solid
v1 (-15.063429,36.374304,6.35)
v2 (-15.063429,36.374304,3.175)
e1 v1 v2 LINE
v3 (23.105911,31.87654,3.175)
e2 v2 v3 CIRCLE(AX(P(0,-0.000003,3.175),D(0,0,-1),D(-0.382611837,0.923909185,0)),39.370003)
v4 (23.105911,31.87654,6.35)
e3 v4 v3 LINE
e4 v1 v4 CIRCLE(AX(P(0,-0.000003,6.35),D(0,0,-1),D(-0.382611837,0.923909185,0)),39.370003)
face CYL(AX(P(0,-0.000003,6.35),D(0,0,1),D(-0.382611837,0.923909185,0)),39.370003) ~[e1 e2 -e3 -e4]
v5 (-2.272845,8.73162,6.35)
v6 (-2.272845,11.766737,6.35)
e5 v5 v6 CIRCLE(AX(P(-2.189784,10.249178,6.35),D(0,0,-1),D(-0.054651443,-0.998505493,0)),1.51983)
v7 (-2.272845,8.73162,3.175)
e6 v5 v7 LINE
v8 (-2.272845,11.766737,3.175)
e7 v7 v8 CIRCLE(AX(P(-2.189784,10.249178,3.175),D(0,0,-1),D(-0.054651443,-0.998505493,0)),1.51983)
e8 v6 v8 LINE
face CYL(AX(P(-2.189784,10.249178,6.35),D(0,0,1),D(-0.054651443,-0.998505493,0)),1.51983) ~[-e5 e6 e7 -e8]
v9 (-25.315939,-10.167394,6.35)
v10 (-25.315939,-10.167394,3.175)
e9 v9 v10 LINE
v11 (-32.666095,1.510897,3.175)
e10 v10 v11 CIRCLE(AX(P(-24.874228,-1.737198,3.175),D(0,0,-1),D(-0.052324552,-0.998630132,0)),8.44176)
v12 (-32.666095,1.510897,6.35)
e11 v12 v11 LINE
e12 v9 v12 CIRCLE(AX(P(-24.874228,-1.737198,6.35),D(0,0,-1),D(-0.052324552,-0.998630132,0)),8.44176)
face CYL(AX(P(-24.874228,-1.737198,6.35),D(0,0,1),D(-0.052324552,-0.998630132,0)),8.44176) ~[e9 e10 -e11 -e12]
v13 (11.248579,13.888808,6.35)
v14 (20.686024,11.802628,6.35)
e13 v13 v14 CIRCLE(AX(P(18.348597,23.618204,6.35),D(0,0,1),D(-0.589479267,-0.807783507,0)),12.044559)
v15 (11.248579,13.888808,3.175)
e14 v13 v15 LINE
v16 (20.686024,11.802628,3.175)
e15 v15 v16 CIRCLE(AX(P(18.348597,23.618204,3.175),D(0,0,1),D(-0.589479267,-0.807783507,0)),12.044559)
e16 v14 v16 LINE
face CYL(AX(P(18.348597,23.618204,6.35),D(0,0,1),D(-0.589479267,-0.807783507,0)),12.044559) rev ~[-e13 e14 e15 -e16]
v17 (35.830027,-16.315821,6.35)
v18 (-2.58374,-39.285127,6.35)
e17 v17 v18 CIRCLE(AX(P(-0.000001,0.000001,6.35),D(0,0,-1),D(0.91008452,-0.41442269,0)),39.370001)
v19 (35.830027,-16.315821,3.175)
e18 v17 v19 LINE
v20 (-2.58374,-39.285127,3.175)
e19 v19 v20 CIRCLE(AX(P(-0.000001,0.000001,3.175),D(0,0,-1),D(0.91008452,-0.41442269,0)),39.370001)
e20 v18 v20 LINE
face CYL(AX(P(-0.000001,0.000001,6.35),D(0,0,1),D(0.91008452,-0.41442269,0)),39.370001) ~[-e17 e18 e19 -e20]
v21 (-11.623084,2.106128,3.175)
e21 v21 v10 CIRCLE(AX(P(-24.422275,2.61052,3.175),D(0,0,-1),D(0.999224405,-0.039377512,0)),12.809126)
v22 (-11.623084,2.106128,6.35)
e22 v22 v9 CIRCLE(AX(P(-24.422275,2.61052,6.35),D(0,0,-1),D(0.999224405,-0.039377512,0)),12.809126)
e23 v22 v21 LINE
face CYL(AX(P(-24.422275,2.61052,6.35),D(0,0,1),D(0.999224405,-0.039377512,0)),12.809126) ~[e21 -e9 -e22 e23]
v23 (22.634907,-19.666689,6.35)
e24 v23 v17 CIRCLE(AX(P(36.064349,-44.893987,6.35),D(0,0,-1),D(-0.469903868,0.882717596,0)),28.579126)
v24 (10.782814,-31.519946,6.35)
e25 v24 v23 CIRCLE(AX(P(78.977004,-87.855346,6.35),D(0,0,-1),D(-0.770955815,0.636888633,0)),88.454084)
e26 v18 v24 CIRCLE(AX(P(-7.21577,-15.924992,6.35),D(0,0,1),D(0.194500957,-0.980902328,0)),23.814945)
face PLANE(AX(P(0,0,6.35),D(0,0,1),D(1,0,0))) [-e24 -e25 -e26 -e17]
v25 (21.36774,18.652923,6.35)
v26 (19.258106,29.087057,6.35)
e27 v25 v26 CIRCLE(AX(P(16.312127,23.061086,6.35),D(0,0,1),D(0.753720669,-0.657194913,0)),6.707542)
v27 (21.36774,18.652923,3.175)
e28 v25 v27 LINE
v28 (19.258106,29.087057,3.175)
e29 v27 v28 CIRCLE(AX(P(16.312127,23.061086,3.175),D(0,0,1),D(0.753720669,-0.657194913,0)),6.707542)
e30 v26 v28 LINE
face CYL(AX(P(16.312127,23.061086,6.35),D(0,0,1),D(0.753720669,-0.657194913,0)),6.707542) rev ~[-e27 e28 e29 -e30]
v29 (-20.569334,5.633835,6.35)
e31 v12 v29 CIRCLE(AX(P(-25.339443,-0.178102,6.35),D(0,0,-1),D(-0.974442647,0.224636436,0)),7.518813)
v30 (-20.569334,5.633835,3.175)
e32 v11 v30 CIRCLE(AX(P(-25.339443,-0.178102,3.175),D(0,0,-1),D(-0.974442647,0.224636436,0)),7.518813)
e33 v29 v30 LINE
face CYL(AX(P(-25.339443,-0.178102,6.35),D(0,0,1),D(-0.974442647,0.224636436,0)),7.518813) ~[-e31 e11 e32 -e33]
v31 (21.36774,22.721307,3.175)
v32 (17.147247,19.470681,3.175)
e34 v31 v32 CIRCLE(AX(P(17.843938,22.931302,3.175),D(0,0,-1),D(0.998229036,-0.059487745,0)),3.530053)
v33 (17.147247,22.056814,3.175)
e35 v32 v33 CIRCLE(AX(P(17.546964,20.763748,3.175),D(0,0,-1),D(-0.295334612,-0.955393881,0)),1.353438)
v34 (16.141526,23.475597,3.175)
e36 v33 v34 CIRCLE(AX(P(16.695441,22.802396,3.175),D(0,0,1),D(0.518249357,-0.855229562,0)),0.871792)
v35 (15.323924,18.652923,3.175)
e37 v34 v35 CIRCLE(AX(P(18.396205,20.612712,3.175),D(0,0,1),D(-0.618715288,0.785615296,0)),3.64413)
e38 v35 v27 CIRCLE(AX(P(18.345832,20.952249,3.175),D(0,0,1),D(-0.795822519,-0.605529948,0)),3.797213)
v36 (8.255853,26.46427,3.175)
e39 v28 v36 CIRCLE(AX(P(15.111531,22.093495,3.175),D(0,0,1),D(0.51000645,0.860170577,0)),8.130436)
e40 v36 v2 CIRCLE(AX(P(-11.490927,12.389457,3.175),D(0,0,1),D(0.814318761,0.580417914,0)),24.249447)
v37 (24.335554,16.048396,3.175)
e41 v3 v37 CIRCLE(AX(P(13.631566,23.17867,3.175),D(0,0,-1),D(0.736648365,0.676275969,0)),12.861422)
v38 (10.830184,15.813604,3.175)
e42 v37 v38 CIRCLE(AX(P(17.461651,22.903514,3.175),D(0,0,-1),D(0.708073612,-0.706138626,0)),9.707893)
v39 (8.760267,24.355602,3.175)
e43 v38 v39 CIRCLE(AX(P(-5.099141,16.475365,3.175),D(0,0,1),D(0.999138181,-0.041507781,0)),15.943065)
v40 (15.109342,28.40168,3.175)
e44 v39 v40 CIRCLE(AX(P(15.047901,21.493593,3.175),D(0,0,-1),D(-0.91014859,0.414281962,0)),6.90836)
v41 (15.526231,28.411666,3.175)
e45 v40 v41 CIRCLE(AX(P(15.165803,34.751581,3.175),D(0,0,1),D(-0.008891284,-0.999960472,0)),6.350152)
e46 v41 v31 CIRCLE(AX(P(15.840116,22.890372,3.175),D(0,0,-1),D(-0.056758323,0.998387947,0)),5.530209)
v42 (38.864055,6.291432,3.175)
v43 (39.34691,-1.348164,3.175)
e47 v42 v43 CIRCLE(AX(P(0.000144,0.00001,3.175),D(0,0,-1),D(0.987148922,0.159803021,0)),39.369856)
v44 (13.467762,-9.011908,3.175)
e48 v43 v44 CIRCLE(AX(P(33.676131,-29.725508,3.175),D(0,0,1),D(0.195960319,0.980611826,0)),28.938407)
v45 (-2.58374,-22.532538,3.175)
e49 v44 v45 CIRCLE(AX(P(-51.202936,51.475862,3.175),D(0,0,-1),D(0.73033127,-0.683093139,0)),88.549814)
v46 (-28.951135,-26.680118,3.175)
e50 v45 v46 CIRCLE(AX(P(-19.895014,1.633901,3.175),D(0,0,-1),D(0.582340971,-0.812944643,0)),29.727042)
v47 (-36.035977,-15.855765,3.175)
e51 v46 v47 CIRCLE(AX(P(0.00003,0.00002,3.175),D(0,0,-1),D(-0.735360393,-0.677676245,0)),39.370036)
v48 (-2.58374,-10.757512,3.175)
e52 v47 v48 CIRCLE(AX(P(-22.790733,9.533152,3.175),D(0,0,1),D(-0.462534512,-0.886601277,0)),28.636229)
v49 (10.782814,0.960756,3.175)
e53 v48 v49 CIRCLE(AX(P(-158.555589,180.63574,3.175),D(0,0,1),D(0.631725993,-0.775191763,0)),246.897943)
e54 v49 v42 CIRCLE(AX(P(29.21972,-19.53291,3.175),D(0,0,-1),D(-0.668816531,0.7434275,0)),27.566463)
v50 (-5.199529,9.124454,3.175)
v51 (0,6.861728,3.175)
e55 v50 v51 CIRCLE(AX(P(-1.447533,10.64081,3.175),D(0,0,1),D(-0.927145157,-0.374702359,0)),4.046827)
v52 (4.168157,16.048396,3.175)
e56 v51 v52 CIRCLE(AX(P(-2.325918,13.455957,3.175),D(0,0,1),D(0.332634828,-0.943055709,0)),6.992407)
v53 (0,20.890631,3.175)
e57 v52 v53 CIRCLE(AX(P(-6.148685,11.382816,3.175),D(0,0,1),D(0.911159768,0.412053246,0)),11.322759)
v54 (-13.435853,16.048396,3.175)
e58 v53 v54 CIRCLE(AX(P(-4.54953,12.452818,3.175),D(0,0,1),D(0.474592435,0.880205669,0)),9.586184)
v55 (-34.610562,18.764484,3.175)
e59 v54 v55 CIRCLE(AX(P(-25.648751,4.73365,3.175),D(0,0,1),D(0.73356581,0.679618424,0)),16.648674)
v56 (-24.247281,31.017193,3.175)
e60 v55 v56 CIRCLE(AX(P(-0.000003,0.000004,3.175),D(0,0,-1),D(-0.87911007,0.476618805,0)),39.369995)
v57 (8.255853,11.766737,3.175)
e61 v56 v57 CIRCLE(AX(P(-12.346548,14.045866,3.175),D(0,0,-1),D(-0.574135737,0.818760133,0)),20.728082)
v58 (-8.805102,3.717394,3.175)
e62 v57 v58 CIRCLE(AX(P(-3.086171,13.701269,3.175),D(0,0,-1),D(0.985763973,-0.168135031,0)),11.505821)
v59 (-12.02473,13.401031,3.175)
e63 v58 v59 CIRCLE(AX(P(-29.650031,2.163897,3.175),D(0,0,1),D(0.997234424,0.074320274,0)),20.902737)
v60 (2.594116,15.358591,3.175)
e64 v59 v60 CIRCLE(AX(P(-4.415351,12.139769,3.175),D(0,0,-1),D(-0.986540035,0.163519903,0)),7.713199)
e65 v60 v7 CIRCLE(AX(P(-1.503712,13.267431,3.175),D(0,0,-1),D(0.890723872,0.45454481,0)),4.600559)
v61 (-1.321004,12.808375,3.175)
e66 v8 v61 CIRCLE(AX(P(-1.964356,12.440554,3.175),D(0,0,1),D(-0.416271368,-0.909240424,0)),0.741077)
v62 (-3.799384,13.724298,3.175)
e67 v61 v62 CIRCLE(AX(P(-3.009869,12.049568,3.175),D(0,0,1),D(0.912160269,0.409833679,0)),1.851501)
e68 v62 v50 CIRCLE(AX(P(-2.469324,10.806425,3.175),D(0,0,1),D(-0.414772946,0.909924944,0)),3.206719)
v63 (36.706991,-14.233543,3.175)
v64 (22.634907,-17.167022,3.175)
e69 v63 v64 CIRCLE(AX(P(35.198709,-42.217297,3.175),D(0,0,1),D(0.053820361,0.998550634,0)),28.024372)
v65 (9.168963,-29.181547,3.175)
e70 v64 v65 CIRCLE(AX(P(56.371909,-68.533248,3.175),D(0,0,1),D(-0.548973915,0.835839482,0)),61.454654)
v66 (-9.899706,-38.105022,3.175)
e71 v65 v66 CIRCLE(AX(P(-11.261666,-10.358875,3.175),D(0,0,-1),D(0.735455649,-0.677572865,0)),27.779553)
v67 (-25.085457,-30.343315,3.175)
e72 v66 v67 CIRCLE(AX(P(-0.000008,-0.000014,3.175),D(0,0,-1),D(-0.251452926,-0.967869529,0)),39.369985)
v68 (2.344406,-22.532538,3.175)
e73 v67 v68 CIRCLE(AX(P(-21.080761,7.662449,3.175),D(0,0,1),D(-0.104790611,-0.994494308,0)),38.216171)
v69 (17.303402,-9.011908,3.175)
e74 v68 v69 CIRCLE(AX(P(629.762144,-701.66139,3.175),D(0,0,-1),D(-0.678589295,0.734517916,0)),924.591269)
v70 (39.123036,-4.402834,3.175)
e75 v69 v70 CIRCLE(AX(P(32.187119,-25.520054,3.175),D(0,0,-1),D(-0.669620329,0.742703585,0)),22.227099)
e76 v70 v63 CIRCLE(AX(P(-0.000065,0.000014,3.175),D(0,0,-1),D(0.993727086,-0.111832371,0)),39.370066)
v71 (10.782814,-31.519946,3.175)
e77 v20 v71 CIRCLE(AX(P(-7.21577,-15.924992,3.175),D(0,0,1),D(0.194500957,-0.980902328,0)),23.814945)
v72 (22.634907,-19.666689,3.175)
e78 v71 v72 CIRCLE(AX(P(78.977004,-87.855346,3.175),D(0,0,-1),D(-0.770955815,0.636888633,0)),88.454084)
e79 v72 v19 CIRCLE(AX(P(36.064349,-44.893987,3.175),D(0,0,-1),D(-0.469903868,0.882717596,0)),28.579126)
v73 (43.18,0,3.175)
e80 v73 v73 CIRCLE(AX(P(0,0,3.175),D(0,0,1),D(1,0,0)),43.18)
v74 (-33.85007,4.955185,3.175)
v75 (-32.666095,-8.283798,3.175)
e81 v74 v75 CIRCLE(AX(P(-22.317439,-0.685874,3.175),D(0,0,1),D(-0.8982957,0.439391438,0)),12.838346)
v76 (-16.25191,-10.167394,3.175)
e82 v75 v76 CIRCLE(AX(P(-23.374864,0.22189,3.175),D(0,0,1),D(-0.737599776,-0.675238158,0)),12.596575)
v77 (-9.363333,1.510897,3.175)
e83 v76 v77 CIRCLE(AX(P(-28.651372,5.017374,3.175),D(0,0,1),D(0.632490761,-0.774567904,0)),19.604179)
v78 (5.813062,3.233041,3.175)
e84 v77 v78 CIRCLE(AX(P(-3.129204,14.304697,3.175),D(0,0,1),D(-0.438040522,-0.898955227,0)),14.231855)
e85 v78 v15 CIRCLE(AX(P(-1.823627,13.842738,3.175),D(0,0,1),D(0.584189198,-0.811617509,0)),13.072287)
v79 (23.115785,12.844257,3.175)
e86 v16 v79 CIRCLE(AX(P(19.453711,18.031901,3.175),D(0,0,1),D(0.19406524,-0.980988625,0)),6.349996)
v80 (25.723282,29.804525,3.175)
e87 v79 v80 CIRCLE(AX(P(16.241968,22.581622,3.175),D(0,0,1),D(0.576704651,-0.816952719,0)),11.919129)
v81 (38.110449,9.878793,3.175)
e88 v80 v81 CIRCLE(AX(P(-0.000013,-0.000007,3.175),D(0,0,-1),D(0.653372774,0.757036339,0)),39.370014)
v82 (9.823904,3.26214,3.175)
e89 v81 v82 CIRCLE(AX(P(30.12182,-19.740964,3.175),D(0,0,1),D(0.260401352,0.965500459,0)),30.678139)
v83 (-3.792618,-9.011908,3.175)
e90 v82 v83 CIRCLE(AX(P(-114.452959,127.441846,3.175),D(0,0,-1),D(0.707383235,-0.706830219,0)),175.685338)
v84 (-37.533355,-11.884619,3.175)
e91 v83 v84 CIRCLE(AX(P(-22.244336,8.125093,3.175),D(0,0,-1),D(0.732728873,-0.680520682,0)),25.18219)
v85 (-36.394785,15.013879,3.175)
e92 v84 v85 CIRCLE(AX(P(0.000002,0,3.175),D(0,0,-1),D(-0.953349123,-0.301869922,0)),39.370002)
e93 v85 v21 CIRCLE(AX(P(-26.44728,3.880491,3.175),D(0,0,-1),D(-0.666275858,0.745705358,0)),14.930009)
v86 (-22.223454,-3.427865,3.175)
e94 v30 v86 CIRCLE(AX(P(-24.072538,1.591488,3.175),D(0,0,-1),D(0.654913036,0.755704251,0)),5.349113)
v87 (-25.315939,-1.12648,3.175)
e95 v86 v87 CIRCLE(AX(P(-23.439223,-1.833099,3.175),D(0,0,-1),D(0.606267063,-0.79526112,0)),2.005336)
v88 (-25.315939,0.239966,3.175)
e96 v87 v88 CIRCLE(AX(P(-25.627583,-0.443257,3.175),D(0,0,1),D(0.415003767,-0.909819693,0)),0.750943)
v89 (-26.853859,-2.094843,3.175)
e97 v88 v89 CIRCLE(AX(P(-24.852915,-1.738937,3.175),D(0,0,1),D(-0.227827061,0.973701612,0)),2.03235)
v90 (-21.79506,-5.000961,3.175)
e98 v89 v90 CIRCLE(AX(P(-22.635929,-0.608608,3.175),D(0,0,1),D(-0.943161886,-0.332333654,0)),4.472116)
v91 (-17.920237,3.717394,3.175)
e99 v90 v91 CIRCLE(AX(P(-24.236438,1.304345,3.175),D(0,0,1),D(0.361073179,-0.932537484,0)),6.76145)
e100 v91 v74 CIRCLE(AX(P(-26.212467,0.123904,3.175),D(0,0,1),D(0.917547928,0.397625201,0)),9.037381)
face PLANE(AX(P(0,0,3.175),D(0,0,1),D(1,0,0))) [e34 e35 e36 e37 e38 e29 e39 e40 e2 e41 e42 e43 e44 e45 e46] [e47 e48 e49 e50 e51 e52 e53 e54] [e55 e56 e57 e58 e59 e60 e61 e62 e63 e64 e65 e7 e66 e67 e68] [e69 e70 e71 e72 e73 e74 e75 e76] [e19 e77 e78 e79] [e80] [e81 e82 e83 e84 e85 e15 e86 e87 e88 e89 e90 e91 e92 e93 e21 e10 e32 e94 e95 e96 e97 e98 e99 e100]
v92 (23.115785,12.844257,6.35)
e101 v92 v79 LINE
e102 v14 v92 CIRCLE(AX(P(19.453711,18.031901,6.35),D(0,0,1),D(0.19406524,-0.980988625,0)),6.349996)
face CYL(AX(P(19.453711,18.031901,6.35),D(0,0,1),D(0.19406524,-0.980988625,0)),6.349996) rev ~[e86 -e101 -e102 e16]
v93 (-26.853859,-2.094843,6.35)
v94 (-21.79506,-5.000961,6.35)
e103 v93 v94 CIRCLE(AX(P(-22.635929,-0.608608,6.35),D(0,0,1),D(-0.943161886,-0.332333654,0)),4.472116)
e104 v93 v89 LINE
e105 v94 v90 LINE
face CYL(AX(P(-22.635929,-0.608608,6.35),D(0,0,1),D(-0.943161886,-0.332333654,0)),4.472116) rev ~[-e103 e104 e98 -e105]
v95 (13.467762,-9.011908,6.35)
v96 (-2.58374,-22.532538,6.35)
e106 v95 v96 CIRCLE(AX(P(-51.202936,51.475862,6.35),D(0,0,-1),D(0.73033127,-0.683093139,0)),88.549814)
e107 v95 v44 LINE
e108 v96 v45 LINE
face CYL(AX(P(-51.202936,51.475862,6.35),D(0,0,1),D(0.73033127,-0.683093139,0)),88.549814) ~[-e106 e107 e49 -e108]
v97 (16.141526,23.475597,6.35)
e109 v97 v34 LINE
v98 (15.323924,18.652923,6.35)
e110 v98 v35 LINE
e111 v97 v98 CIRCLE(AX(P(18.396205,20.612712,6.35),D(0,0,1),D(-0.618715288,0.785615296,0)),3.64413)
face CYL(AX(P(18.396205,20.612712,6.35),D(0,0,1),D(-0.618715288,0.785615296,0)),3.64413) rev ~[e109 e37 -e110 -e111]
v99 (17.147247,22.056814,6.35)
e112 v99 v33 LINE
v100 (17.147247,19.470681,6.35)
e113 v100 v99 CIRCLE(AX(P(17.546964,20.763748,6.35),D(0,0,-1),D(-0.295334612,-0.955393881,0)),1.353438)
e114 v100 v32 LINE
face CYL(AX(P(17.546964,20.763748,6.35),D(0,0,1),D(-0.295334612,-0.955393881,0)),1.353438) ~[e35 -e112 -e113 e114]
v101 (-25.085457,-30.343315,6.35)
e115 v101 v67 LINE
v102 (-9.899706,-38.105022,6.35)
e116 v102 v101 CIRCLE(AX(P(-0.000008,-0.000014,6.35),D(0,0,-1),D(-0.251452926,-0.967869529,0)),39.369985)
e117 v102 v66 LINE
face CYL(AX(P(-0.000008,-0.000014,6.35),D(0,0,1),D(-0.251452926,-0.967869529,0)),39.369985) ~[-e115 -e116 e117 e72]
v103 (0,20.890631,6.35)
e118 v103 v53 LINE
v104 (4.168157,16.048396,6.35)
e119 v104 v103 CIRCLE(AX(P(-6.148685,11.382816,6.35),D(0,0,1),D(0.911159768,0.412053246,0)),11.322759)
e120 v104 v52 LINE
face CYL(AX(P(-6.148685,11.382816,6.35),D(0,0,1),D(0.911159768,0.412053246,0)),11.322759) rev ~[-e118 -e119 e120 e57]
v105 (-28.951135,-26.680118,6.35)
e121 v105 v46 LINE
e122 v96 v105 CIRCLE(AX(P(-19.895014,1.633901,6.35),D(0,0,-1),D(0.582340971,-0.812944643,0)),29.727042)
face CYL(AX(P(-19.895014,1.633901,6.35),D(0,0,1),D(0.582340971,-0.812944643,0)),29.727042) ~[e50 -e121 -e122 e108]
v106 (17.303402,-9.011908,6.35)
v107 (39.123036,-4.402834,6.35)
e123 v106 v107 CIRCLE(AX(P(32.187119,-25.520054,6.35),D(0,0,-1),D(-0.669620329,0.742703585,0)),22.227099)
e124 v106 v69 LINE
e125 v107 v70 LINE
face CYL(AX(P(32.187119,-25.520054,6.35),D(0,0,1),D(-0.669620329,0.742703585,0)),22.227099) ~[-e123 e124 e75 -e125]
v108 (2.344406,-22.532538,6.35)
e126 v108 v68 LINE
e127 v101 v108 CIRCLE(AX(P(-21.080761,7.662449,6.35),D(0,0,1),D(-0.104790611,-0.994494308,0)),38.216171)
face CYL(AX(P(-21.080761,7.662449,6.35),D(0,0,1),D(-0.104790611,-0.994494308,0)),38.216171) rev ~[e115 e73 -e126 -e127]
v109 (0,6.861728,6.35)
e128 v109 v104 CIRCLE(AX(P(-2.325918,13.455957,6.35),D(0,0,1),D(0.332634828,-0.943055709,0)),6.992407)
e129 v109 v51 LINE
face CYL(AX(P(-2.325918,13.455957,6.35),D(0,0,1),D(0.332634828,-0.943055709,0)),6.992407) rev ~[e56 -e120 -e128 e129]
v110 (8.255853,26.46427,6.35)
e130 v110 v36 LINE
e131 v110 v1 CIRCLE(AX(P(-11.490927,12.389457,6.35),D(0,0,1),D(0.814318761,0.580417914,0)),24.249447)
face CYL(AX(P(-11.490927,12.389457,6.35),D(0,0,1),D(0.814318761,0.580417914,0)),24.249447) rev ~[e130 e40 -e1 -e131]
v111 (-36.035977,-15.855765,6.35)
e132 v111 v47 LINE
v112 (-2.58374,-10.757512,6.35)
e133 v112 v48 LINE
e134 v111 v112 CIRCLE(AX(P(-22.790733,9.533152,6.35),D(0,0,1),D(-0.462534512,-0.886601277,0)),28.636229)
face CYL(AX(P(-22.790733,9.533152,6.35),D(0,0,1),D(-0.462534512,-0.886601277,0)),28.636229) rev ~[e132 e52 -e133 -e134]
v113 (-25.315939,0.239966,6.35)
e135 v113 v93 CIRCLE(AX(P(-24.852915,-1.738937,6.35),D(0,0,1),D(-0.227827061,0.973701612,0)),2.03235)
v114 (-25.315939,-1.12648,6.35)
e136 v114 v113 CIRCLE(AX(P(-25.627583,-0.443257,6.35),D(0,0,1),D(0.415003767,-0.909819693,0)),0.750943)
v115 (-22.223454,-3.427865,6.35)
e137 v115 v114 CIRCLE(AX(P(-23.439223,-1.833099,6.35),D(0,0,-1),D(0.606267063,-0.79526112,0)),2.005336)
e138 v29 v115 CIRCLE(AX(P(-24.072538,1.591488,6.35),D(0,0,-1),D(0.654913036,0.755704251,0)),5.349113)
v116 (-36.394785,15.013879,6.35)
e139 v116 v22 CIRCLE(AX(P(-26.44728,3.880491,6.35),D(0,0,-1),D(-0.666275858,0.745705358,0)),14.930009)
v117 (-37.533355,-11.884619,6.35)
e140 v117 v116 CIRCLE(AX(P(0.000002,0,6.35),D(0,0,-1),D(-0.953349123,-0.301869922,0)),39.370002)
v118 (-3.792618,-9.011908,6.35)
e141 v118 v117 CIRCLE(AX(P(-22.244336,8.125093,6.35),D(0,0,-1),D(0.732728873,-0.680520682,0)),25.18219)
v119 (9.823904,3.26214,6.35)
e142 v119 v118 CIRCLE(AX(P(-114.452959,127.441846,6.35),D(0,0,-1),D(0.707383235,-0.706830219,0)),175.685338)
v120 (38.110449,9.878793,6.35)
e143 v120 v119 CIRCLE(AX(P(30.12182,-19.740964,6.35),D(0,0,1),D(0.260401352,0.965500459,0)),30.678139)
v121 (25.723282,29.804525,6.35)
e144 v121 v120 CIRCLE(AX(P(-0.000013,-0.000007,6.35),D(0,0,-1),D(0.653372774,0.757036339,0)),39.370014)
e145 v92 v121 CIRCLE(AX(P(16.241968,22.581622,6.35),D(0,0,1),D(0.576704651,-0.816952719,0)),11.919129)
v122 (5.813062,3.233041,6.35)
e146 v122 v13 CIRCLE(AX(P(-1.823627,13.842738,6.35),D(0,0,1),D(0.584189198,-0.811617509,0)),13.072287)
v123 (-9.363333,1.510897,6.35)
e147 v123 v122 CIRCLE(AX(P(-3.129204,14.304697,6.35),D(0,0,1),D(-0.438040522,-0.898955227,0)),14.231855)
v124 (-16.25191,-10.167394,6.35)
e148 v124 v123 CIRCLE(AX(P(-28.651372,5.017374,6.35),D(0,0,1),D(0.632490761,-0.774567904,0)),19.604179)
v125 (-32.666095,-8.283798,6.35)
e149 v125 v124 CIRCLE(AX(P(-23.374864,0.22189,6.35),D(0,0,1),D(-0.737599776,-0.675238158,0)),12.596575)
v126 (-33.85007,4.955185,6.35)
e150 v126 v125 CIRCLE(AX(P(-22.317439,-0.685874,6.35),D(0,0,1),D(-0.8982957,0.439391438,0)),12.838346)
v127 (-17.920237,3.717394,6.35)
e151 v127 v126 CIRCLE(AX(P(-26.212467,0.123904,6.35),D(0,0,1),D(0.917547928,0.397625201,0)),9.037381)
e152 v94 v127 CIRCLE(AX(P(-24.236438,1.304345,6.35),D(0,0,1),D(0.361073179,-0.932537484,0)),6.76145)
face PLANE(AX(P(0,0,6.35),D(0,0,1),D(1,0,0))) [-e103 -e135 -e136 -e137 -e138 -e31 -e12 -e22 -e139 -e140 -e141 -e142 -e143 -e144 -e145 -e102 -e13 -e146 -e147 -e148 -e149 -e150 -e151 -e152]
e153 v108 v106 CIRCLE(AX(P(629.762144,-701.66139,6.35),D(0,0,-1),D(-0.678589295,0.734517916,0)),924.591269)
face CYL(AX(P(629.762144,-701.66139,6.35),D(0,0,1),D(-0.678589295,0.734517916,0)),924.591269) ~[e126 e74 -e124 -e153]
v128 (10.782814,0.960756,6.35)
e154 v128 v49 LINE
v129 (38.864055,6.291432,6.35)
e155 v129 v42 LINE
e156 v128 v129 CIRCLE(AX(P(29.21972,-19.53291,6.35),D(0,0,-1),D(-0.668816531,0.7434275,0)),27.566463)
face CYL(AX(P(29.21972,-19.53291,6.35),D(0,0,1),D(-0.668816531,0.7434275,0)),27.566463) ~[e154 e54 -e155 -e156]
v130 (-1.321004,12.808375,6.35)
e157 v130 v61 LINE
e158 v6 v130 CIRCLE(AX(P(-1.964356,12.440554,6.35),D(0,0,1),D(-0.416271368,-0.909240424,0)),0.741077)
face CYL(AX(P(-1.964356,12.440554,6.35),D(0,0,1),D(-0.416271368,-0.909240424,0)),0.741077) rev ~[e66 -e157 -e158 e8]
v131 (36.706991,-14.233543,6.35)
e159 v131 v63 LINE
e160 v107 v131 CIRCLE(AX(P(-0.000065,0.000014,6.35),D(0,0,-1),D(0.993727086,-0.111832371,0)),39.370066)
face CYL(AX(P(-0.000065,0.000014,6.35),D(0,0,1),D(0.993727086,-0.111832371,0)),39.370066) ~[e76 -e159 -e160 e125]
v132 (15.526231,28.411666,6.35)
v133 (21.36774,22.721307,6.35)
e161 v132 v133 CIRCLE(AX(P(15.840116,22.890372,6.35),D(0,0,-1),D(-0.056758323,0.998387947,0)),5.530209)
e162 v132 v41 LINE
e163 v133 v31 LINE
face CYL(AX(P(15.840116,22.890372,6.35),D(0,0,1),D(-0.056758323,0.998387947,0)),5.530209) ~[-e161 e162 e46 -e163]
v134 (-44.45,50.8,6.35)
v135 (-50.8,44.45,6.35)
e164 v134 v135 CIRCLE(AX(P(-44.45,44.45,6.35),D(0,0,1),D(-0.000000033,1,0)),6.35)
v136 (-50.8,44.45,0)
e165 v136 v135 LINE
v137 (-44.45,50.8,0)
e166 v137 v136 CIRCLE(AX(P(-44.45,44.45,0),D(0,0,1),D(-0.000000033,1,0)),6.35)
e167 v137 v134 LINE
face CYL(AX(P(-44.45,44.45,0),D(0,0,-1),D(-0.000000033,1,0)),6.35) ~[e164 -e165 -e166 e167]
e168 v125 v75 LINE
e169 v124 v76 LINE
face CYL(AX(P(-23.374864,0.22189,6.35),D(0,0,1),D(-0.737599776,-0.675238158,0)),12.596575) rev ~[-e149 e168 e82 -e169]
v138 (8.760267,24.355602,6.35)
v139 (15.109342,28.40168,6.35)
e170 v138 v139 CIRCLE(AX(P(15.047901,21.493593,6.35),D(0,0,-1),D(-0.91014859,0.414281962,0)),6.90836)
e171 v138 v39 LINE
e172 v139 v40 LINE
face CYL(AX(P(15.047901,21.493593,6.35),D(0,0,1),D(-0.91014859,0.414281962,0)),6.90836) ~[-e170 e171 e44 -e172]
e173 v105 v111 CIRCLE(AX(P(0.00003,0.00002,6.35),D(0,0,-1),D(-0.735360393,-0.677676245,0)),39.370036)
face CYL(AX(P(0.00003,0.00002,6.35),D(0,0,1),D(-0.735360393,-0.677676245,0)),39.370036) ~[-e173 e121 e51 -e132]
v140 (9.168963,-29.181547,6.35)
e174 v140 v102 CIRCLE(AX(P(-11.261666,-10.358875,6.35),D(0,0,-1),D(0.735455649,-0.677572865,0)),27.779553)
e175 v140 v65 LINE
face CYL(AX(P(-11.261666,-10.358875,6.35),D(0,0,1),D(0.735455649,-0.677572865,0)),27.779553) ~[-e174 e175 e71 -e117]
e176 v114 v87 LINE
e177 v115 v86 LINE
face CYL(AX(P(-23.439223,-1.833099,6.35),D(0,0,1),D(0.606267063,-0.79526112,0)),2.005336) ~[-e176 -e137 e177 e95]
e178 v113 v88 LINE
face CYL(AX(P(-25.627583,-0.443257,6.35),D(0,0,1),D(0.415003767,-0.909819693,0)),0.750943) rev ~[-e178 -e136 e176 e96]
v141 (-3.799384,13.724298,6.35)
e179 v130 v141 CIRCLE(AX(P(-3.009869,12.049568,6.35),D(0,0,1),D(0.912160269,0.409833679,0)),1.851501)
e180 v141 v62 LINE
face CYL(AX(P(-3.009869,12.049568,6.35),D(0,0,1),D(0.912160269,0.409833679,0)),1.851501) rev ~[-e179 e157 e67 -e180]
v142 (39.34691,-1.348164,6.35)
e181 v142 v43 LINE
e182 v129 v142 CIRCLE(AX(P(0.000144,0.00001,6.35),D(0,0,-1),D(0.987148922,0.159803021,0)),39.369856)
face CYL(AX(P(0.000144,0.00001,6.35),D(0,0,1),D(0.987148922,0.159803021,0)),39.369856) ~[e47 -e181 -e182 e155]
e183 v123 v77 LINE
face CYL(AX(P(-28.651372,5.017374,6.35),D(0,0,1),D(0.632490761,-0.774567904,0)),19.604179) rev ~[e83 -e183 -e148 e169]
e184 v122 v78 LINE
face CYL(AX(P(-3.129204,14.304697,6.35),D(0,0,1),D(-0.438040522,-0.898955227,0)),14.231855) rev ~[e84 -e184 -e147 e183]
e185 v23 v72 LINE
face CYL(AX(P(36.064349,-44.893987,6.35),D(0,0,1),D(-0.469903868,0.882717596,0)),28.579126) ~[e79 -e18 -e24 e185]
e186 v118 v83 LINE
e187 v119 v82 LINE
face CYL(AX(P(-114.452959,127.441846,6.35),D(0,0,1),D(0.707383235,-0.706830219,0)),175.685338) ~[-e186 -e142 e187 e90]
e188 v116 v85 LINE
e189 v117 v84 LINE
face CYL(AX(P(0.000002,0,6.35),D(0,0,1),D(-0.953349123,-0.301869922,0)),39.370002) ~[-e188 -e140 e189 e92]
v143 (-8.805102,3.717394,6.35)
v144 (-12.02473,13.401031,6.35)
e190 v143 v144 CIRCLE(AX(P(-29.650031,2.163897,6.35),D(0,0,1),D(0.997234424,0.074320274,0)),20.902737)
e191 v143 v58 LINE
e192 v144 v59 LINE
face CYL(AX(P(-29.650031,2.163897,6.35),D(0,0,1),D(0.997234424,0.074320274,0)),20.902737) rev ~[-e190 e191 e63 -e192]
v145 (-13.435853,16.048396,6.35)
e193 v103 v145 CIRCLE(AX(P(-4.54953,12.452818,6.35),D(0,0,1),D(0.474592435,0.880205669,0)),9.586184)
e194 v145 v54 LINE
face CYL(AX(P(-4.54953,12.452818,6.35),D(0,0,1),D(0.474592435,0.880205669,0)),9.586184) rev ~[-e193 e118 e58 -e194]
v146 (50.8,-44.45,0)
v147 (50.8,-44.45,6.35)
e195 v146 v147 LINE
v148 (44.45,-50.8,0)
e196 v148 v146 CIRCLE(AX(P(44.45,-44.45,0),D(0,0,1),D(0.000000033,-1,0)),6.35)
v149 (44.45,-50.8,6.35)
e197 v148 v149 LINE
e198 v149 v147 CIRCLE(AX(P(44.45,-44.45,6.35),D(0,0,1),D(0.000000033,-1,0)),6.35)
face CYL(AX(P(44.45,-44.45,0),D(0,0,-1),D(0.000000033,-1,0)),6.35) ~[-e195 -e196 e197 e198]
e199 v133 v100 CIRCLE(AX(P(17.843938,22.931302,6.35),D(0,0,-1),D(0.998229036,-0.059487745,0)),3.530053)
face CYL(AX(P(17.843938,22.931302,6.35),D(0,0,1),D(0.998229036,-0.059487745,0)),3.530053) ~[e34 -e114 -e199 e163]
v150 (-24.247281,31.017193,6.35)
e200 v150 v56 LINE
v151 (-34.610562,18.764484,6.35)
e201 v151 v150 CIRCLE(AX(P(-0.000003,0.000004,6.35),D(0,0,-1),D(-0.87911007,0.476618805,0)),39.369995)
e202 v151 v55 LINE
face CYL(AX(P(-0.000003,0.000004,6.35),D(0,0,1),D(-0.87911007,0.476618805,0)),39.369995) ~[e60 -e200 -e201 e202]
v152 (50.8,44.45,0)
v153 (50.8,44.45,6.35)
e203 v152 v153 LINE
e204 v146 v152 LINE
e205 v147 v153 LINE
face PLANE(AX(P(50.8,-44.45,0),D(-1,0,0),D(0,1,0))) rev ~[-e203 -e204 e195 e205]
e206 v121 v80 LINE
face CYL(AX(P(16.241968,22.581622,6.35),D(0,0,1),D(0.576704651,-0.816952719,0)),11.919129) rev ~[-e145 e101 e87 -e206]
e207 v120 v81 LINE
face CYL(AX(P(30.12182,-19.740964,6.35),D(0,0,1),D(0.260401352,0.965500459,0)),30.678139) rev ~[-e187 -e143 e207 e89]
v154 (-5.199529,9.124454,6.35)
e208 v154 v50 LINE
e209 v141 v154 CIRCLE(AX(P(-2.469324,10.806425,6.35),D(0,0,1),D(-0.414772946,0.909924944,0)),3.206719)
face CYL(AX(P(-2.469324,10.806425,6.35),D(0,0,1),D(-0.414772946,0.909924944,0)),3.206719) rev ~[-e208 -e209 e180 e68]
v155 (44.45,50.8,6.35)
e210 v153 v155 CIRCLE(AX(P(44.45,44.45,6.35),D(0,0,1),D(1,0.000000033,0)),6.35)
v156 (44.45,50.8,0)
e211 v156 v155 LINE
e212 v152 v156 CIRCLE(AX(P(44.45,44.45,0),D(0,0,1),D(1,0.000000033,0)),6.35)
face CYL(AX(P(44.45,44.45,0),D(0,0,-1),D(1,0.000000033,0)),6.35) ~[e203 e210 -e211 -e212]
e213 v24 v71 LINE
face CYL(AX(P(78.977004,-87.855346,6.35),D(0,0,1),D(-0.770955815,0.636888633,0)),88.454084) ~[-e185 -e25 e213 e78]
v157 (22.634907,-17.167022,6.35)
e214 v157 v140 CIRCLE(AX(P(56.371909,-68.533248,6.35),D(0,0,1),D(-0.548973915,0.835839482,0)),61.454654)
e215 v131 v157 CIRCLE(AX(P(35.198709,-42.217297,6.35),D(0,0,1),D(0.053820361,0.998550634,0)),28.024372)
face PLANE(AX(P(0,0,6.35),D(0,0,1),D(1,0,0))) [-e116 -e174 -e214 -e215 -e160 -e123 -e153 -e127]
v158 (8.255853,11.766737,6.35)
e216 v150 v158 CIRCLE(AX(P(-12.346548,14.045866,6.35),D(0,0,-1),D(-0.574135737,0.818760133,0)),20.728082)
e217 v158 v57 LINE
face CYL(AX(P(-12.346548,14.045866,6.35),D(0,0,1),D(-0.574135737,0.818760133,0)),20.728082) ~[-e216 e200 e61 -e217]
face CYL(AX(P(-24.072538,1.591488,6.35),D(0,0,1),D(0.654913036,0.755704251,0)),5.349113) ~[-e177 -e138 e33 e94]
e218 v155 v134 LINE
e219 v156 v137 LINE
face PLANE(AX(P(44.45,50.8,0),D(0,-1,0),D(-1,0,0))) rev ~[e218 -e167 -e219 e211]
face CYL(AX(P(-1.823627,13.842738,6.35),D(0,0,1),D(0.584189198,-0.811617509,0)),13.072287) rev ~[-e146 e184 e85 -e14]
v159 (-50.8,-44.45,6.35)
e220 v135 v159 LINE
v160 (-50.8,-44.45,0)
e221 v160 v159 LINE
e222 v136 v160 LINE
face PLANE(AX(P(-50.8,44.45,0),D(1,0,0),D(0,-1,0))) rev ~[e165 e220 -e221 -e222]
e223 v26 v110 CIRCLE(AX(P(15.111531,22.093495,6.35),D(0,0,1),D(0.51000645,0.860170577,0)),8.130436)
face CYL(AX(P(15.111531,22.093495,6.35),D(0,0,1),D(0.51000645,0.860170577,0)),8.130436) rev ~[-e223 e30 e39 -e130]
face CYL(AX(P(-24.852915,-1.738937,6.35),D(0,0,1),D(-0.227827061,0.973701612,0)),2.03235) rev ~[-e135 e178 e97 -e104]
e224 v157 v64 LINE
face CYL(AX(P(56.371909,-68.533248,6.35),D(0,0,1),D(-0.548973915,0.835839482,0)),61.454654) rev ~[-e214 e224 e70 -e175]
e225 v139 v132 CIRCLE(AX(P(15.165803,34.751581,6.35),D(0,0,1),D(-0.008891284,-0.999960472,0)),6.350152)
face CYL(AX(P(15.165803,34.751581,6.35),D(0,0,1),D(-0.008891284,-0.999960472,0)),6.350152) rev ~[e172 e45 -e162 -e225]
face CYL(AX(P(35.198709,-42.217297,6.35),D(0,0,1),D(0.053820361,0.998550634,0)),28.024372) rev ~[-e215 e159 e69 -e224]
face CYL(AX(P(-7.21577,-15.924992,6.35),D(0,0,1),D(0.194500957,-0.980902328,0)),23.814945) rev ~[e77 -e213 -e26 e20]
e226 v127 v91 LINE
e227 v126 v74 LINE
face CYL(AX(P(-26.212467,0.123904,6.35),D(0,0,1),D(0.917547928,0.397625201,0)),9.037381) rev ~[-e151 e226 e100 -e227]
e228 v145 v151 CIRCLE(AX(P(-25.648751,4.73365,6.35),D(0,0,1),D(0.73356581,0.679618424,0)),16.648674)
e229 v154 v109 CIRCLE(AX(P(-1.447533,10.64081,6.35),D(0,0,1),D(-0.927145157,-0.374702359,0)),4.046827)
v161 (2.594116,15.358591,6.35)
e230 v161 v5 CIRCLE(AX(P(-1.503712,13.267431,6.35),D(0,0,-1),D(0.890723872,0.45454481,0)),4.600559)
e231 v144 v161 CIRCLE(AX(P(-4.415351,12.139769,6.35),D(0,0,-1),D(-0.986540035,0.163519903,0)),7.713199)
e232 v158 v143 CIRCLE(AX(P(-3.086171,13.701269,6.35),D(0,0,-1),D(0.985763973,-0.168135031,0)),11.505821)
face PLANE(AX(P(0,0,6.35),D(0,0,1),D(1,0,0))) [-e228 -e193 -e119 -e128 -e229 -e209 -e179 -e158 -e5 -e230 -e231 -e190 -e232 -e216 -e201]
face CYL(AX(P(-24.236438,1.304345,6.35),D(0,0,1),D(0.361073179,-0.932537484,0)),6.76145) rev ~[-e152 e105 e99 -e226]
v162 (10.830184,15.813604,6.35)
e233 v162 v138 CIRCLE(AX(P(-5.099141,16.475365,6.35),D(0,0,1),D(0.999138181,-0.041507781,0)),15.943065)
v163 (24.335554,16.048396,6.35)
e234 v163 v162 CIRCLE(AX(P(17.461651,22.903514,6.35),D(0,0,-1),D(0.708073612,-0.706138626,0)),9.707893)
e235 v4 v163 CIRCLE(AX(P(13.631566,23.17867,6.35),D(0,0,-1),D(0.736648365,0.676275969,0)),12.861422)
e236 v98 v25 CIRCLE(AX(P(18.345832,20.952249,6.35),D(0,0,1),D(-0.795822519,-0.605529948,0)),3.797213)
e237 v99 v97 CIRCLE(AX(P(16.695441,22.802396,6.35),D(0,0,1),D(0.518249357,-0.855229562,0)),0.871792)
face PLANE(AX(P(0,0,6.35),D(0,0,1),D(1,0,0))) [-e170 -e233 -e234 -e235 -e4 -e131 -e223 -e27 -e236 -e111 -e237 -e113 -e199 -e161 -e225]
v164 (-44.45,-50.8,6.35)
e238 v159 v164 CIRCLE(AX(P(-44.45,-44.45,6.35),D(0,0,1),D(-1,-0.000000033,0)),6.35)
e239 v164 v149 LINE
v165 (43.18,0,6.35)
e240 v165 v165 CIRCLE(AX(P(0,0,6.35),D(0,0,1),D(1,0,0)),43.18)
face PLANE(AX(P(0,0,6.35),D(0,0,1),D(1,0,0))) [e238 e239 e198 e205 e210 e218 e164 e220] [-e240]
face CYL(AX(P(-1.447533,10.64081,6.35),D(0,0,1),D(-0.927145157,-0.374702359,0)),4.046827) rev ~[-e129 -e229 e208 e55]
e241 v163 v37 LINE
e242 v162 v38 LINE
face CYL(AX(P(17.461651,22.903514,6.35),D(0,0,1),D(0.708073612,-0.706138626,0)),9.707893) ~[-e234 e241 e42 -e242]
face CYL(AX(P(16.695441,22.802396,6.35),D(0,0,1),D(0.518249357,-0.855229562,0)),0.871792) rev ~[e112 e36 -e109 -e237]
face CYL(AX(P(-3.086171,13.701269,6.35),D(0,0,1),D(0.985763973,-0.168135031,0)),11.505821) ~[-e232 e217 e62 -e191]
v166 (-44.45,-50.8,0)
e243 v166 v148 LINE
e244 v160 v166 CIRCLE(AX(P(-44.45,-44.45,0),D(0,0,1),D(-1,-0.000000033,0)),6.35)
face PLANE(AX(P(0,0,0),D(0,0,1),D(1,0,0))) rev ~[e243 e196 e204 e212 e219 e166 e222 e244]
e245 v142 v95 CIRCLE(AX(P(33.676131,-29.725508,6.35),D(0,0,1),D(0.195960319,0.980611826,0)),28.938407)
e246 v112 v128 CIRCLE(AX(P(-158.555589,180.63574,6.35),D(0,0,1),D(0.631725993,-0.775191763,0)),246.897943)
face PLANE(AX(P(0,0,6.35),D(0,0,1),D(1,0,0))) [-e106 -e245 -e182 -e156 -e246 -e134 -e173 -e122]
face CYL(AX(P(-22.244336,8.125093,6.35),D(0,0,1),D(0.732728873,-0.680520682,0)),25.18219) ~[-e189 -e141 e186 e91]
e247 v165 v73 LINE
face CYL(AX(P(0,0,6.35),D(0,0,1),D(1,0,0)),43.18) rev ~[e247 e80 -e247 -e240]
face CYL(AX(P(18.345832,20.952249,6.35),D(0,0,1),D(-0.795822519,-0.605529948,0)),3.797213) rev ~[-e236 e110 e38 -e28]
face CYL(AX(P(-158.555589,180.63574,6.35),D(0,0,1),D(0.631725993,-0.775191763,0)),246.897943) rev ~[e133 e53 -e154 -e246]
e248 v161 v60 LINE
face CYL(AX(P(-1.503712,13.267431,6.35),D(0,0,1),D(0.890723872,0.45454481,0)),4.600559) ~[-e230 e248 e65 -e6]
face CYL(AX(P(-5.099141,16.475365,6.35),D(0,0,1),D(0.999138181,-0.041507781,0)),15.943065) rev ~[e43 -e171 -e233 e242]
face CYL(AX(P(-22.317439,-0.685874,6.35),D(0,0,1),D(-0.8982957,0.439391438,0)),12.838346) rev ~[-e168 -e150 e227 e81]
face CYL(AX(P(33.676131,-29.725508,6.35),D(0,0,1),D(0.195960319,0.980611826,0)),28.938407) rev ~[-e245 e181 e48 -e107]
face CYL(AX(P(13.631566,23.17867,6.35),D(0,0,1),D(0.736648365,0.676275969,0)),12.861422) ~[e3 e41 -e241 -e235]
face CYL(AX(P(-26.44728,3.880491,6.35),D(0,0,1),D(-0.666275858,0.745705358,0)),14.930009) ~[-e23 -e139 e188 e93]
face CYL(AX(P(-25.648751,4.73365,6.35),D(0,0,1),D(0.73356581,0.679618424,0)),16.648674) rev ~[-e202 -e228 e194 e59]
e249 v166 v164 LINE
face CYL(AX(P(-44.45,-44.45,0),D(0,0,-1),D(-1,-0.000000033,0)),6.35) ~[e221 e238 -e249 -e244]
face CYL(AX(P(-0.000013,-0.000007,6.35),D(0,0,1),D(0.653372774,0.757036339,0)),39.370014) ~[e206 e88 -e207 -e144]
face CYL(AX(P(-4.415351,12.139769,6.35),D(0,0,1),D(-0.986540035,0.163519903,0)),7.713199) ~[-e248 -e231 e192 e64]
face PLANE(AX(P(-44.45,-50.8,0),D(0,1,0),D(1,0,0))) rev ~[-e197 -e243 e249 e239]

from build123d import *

# Parameters (mm, degrees)
F1_DEPTH = 6.35
F2_R     = 43.18
F3_DEPTH = 3.175


with BuildPart() as f1:
    # F0 (on Top) → F1 (new body)
    with BuildSketch(Plane.XY):
        with BuildLine():
            Line((44.45, 50.8), (-44.45, 50.8))
            ThreePointArc((-44.45, 50.8), (-48.940128, 48.940128), (-50.8, 44.45))
            Line((-50.8, 44.45), (-50.8, -44.45))
            ThreePointArc((-50.8, -44.45), (-48.940128, -48.940128), (-44.45, -50.8))
            Line((-44.45, -50.8), (44.45, -50.8))
            ThreePointArc((44.45, -50.8), (48.940128, -48.940128), (50.8, -44.45))
            Line((50.8, -44.45), (50.8, 44.45))
            ThreePointArc((50.8, 44.45), (48.940128, 48.940128), (44.45, 50.8))
        make_face()
    extrude(amount=F1_DEPTH)

    # F2 (on face) → F3 (cut)
    with BuildSketch(Plane.XY.offset(6.35)):
        Circle(F2_R)
        with BuildLine():
            ThreePointArc((35.830027, -16.315821), (20.204607, -33.790098), (-2.58374, -39.285127))
            ThreePointArc((-2.58374, -39.285127), (4.747118, -36.517246), (10.782814, -31.519946))
            ThreePointArc((10.782814, -31.519946), (16.427451, -25.311935), (22.634907, -19.666689))
            ThreePointArc((22.634907, -19.666689), (29.030027, -17.194081), (35.830027, -16.315821))
        make_face(mode=Mode.SUBTRACT)
        with BuildLine():
            ThreePointArc((-9.899706, -38.105022), (-17.917908, -35.056319), (-25.085457, -30.343315))
            ThreePointArc((-25.085457, -30.343315), (-10.61459, -29.092618), (2.344406, -22.532538))
            ThreePointArc((2.344406, -22.532538), (9.787045, -15.731443), (17.303402, -9.011908))
            ThreePointArc((17.303402, -9.011908), (27.593343, -3.772844), (39.123036, -4.402834))
            ThreePointArc((39.123036, -4.402834), (38.232302, -9.396167), (36.706991, -14.233543))
            ThreePointArc((36.706991, -14.233543), (29.479665, -14.782685), (22.634907, -17.167022))
            ThreePointArc((22.634907, -17.167022), (15.458512, -22.677295), (9.168963, -29.181547))
            ThreePointArc((9.168963, -29.181547), (0.512727, -35.519703), (-9.899706, -38.105022))
        make_face(mode=Mode.SUBTRACT)
        with BuildLine():
            ThreePointArc((-28.951135, -26.680118), (-32.941202, -21.560939), (-36.035977, -15.855765))
            ThreePointArc((-36.035977, -15.855765), (-18.476277, -18.776194), (-2.58374, -10.757512))
            ThreePointArc((-2.58374, -10.757512), (4.205031, -5.018711), (10.782814, 0.960756))
            ThreePointArc((10.782814, 0.960756), (24.078577, 7.549898), (38.864055, 6.291432))
            ThreePointArc((38.864055, 6.291432), (39.291598, 2.483397), (39.34691, -1.348164))
            ThreePointArc((39.34691, -1.348164), (25.459159, -1.978206), (13.467762, -9.011908))
            ThreePointArc((13.467762, -9.011908), (5.843991, -16.249448), (-2.58374, -22.532538))
            ThreePointArc((-2.58374, -22.532538), (-15.275761, -27.732057), (-28.951135, -26.680118))
        make_face(mode=Mode.SUBTRACT)
        with BuildLine():
            ThreePointArc((-3.792618, -9.011908), (-20.108035, -16.966318), (-37.533355, -11.884619))
            ThreePointArc((-37.533355, -11.884619), (-39.334778, 1.664978), (-36.394785, 15.013879))
            ThreePointArc((-36.394785, 15.013879), (-19.548147, 17.120851), (-11.623084, 2.106128))
            ThreePointArc((-11.623084, 2.106128), (-15.8727, -6.927744), (-25.315939, -10.167394))
            ThreePointArc((-25.315939, -10.167394), (-32.018706, -6.233835), (-32.666095, 1.510897))
            ThreePointArc((-32.666095, 1.510897), (-27.765063, 6.938703), (-20.569334, 5.633835))
            ThreePointArc((-20.569334, 5.633835), (-18.810376, 0.630934), (-22.223454, -3.427865))
            ThreePointArc((-22.223454, -3.427865), (-24.636431, -3.441846), (-25.315939, -1.12648))
            ThreePointArc((-25.315939, -1.12648), (-24.87664, -0.443257), (-25.315939, 0.239966))
            ThreePointArc((-25.315939, 0.239966), (-26.550153, -0.620979), (-26.853859, -2.094843))
            ThreePointArc((-26.853859, -2.094843), (-24.8636, -4.486405), (-21.79506, -5.000961))
            ThreePointArc((-21.79506, -5.000961), (-18.057747, -1.44174), (-17.920237, 3.717394))
            ThreePointArc((-17.920237, 3.717394), (-25.512349, 9.134125), (-33.85007, 4.955185))
            ThreePointArc((-33.85007, 4.955185), (-35.104751, -1.829456), (-32.666095, -8.283798))
            ThreePointArc((-32.666095, -8.283798), (-24.810949, -12.292556), (-16.25191, -10.167394))
            ThreePointArc((-16.25191, -10.167394), (-11.765874, -4.942736), (-9.363333, 1.510897))
            ThreePointArc((-9.363333, 1.510897), (-1.52454, 0.163596), (5.813062, 3.233041))
            ThreePointArc((5.813062, 3.233041), (9.821154, 7.902724), (11.248579, 13.888808))
            ThreePointArc((11.248579, 13.888808), (15.748865, 11.857558), (20.686024, 11.802628))
            ThreePointArc((20.686024, 11.802628), (21.955711, 12.195598), (23.115785, 12.844257))
            ThreePointArc((23.115785, 12.844257), (28.022683, 20.770437), (25.723282, 29.804525))
            ThreePointArc((25.723282, 29.804525), (33.435684, 20.785858), (38.110449, 9.878793))
            ThreePointArc((38.110449, 9.878793), (23.134356, 10.130821), (9.823904, 3.26214))
            ThreePointArc((9.823904, 3.26214), (3.175845, -3.052608), (-3.792618, -9.011908))
        make_face(mode=Mode.SUBTRACT)
        with BuildLine():
            ThreePointArc((0, 20.890631), (-7.799723, 21.471197), (-13.435853, 16.048396))
            ThreePointArc((-13.435853, 16.048396), (-23.530574, 21.247029), (-34.610562, 18.764484))
            ThreePointArc((-34.610562, 18.764484), (-30.059834, 25.424462), (-24.247281, 31.017193))
            ThreePointArc((-24.247281, 31.017193), (-1.783652, 31.880624), (8.255853, 11.766737))
            ThreePointArc((8.255853, 11.766737), (1.823287, 3.295446), (-8.805102, 3.717394))
            ThreePointArc((-8.805102, 3.717394), (-9.814889, 8.75871), (-12.02473, 13.401031))
            ThreePointArc((-12.02473, 13.401031), (-5.439061, 19.784732), (2.594116, 15.358591))
            ThreePointArc((2.594116, 15.358591), (2.204285, 10.544215), (-2.272845, 8.73162))
            ThreePointArc((-2.272845, 8.73162), (-3.709614, 10.249179), (-2.272845, 11.766737))
            ThreePointArc((-2.272845, 11.766737), (-1.417286, 11.940645), (-1.321004, 12.808375))
            ThreePointArc((-1.321004, 12.808375), (-2.368046, 13.786265), (-3.799384, 13.724298))
            ThreePointArc((-3.799384, 13.724298), (-5.537072, 11.740216), (-5.199529, 9.124454))
            ThreePointArc((-5.199529, 9.124454), (-3.062346, 6.930124), (0, 6.861728))
            ThreePointArc((0, 6.861728), (4.041718, 10.566846), (4.168157, 16.048396))
            ThreePointArc((4.168157, 16.048396), (2.432702, 18.769606), (0, 20.890631))
        make_face(mode=Mode.SUBTRACT)
        with BuildLine():
            ThreePointArc((19.258106, 29.087057), (13.226177, 30.002315), (8.255853, 26.46427))
            ThreePointArc((8.255853, 26.46427), (-2.006518, 34.7072), (-15.063429, 36.374304))
            ThreePointArc((-15.063429, 36.374304), (4.607369, 39.099476), (23.105911, 31.87654))
            ThreePointArc((23.105911, 31.87654), (26.454351, 24.174835), (24.335554, 16.048396))
            ThreePointArc((24.335554, 16.048396), (17.630398, 13.197088), (10.830184, 15.813604))
            ThreePointArc((10.830184, 15.813604), (10.39549, 20.23006), (8.760267, 24.355602))
            ThreePointArc((8.760267, 24.355602), (11.335212, 27.319516), (15.109342, 28.40168))
            ThreePointArc((15.109342, 28.40168), (15.317869, 28.40325), (15.526231, 28.411666))
            ThreePointArc((15.526231, 28.411666), (19.698978, 26.851735), (21.36774, 22.721307))
            ThreePointArc((21.36774, 22.721307), (19.997953, 20.134608), (17.147247, 19.470681))
            ThreePointArc((17.147247, 19.470681), (16.193526, 20.763747), (17.147247, 22.056814))
            ThreePointArc((17.147247, 22.056814), (17.406668, 23.306557), (16.141526, 23.475597))
            ThreePointArc((16.141526, 23.475597), (14.803341, 21.221821), (15.323924, 18.652923))
            ThreePointArc((15.323924, 18.652923), (18.345832, 17.155036), (21.36774, 18.652923))
            ThreePointArc((21.36774, 18.652923), (22.886635, 24.390358), (19.258106, 29.087057))
        make_face(mode=Mode.SUBTRACT)
    extrude(amount=-F3_DEPTH, mode=Mode.SUBTRACT)


solid = f1.part
